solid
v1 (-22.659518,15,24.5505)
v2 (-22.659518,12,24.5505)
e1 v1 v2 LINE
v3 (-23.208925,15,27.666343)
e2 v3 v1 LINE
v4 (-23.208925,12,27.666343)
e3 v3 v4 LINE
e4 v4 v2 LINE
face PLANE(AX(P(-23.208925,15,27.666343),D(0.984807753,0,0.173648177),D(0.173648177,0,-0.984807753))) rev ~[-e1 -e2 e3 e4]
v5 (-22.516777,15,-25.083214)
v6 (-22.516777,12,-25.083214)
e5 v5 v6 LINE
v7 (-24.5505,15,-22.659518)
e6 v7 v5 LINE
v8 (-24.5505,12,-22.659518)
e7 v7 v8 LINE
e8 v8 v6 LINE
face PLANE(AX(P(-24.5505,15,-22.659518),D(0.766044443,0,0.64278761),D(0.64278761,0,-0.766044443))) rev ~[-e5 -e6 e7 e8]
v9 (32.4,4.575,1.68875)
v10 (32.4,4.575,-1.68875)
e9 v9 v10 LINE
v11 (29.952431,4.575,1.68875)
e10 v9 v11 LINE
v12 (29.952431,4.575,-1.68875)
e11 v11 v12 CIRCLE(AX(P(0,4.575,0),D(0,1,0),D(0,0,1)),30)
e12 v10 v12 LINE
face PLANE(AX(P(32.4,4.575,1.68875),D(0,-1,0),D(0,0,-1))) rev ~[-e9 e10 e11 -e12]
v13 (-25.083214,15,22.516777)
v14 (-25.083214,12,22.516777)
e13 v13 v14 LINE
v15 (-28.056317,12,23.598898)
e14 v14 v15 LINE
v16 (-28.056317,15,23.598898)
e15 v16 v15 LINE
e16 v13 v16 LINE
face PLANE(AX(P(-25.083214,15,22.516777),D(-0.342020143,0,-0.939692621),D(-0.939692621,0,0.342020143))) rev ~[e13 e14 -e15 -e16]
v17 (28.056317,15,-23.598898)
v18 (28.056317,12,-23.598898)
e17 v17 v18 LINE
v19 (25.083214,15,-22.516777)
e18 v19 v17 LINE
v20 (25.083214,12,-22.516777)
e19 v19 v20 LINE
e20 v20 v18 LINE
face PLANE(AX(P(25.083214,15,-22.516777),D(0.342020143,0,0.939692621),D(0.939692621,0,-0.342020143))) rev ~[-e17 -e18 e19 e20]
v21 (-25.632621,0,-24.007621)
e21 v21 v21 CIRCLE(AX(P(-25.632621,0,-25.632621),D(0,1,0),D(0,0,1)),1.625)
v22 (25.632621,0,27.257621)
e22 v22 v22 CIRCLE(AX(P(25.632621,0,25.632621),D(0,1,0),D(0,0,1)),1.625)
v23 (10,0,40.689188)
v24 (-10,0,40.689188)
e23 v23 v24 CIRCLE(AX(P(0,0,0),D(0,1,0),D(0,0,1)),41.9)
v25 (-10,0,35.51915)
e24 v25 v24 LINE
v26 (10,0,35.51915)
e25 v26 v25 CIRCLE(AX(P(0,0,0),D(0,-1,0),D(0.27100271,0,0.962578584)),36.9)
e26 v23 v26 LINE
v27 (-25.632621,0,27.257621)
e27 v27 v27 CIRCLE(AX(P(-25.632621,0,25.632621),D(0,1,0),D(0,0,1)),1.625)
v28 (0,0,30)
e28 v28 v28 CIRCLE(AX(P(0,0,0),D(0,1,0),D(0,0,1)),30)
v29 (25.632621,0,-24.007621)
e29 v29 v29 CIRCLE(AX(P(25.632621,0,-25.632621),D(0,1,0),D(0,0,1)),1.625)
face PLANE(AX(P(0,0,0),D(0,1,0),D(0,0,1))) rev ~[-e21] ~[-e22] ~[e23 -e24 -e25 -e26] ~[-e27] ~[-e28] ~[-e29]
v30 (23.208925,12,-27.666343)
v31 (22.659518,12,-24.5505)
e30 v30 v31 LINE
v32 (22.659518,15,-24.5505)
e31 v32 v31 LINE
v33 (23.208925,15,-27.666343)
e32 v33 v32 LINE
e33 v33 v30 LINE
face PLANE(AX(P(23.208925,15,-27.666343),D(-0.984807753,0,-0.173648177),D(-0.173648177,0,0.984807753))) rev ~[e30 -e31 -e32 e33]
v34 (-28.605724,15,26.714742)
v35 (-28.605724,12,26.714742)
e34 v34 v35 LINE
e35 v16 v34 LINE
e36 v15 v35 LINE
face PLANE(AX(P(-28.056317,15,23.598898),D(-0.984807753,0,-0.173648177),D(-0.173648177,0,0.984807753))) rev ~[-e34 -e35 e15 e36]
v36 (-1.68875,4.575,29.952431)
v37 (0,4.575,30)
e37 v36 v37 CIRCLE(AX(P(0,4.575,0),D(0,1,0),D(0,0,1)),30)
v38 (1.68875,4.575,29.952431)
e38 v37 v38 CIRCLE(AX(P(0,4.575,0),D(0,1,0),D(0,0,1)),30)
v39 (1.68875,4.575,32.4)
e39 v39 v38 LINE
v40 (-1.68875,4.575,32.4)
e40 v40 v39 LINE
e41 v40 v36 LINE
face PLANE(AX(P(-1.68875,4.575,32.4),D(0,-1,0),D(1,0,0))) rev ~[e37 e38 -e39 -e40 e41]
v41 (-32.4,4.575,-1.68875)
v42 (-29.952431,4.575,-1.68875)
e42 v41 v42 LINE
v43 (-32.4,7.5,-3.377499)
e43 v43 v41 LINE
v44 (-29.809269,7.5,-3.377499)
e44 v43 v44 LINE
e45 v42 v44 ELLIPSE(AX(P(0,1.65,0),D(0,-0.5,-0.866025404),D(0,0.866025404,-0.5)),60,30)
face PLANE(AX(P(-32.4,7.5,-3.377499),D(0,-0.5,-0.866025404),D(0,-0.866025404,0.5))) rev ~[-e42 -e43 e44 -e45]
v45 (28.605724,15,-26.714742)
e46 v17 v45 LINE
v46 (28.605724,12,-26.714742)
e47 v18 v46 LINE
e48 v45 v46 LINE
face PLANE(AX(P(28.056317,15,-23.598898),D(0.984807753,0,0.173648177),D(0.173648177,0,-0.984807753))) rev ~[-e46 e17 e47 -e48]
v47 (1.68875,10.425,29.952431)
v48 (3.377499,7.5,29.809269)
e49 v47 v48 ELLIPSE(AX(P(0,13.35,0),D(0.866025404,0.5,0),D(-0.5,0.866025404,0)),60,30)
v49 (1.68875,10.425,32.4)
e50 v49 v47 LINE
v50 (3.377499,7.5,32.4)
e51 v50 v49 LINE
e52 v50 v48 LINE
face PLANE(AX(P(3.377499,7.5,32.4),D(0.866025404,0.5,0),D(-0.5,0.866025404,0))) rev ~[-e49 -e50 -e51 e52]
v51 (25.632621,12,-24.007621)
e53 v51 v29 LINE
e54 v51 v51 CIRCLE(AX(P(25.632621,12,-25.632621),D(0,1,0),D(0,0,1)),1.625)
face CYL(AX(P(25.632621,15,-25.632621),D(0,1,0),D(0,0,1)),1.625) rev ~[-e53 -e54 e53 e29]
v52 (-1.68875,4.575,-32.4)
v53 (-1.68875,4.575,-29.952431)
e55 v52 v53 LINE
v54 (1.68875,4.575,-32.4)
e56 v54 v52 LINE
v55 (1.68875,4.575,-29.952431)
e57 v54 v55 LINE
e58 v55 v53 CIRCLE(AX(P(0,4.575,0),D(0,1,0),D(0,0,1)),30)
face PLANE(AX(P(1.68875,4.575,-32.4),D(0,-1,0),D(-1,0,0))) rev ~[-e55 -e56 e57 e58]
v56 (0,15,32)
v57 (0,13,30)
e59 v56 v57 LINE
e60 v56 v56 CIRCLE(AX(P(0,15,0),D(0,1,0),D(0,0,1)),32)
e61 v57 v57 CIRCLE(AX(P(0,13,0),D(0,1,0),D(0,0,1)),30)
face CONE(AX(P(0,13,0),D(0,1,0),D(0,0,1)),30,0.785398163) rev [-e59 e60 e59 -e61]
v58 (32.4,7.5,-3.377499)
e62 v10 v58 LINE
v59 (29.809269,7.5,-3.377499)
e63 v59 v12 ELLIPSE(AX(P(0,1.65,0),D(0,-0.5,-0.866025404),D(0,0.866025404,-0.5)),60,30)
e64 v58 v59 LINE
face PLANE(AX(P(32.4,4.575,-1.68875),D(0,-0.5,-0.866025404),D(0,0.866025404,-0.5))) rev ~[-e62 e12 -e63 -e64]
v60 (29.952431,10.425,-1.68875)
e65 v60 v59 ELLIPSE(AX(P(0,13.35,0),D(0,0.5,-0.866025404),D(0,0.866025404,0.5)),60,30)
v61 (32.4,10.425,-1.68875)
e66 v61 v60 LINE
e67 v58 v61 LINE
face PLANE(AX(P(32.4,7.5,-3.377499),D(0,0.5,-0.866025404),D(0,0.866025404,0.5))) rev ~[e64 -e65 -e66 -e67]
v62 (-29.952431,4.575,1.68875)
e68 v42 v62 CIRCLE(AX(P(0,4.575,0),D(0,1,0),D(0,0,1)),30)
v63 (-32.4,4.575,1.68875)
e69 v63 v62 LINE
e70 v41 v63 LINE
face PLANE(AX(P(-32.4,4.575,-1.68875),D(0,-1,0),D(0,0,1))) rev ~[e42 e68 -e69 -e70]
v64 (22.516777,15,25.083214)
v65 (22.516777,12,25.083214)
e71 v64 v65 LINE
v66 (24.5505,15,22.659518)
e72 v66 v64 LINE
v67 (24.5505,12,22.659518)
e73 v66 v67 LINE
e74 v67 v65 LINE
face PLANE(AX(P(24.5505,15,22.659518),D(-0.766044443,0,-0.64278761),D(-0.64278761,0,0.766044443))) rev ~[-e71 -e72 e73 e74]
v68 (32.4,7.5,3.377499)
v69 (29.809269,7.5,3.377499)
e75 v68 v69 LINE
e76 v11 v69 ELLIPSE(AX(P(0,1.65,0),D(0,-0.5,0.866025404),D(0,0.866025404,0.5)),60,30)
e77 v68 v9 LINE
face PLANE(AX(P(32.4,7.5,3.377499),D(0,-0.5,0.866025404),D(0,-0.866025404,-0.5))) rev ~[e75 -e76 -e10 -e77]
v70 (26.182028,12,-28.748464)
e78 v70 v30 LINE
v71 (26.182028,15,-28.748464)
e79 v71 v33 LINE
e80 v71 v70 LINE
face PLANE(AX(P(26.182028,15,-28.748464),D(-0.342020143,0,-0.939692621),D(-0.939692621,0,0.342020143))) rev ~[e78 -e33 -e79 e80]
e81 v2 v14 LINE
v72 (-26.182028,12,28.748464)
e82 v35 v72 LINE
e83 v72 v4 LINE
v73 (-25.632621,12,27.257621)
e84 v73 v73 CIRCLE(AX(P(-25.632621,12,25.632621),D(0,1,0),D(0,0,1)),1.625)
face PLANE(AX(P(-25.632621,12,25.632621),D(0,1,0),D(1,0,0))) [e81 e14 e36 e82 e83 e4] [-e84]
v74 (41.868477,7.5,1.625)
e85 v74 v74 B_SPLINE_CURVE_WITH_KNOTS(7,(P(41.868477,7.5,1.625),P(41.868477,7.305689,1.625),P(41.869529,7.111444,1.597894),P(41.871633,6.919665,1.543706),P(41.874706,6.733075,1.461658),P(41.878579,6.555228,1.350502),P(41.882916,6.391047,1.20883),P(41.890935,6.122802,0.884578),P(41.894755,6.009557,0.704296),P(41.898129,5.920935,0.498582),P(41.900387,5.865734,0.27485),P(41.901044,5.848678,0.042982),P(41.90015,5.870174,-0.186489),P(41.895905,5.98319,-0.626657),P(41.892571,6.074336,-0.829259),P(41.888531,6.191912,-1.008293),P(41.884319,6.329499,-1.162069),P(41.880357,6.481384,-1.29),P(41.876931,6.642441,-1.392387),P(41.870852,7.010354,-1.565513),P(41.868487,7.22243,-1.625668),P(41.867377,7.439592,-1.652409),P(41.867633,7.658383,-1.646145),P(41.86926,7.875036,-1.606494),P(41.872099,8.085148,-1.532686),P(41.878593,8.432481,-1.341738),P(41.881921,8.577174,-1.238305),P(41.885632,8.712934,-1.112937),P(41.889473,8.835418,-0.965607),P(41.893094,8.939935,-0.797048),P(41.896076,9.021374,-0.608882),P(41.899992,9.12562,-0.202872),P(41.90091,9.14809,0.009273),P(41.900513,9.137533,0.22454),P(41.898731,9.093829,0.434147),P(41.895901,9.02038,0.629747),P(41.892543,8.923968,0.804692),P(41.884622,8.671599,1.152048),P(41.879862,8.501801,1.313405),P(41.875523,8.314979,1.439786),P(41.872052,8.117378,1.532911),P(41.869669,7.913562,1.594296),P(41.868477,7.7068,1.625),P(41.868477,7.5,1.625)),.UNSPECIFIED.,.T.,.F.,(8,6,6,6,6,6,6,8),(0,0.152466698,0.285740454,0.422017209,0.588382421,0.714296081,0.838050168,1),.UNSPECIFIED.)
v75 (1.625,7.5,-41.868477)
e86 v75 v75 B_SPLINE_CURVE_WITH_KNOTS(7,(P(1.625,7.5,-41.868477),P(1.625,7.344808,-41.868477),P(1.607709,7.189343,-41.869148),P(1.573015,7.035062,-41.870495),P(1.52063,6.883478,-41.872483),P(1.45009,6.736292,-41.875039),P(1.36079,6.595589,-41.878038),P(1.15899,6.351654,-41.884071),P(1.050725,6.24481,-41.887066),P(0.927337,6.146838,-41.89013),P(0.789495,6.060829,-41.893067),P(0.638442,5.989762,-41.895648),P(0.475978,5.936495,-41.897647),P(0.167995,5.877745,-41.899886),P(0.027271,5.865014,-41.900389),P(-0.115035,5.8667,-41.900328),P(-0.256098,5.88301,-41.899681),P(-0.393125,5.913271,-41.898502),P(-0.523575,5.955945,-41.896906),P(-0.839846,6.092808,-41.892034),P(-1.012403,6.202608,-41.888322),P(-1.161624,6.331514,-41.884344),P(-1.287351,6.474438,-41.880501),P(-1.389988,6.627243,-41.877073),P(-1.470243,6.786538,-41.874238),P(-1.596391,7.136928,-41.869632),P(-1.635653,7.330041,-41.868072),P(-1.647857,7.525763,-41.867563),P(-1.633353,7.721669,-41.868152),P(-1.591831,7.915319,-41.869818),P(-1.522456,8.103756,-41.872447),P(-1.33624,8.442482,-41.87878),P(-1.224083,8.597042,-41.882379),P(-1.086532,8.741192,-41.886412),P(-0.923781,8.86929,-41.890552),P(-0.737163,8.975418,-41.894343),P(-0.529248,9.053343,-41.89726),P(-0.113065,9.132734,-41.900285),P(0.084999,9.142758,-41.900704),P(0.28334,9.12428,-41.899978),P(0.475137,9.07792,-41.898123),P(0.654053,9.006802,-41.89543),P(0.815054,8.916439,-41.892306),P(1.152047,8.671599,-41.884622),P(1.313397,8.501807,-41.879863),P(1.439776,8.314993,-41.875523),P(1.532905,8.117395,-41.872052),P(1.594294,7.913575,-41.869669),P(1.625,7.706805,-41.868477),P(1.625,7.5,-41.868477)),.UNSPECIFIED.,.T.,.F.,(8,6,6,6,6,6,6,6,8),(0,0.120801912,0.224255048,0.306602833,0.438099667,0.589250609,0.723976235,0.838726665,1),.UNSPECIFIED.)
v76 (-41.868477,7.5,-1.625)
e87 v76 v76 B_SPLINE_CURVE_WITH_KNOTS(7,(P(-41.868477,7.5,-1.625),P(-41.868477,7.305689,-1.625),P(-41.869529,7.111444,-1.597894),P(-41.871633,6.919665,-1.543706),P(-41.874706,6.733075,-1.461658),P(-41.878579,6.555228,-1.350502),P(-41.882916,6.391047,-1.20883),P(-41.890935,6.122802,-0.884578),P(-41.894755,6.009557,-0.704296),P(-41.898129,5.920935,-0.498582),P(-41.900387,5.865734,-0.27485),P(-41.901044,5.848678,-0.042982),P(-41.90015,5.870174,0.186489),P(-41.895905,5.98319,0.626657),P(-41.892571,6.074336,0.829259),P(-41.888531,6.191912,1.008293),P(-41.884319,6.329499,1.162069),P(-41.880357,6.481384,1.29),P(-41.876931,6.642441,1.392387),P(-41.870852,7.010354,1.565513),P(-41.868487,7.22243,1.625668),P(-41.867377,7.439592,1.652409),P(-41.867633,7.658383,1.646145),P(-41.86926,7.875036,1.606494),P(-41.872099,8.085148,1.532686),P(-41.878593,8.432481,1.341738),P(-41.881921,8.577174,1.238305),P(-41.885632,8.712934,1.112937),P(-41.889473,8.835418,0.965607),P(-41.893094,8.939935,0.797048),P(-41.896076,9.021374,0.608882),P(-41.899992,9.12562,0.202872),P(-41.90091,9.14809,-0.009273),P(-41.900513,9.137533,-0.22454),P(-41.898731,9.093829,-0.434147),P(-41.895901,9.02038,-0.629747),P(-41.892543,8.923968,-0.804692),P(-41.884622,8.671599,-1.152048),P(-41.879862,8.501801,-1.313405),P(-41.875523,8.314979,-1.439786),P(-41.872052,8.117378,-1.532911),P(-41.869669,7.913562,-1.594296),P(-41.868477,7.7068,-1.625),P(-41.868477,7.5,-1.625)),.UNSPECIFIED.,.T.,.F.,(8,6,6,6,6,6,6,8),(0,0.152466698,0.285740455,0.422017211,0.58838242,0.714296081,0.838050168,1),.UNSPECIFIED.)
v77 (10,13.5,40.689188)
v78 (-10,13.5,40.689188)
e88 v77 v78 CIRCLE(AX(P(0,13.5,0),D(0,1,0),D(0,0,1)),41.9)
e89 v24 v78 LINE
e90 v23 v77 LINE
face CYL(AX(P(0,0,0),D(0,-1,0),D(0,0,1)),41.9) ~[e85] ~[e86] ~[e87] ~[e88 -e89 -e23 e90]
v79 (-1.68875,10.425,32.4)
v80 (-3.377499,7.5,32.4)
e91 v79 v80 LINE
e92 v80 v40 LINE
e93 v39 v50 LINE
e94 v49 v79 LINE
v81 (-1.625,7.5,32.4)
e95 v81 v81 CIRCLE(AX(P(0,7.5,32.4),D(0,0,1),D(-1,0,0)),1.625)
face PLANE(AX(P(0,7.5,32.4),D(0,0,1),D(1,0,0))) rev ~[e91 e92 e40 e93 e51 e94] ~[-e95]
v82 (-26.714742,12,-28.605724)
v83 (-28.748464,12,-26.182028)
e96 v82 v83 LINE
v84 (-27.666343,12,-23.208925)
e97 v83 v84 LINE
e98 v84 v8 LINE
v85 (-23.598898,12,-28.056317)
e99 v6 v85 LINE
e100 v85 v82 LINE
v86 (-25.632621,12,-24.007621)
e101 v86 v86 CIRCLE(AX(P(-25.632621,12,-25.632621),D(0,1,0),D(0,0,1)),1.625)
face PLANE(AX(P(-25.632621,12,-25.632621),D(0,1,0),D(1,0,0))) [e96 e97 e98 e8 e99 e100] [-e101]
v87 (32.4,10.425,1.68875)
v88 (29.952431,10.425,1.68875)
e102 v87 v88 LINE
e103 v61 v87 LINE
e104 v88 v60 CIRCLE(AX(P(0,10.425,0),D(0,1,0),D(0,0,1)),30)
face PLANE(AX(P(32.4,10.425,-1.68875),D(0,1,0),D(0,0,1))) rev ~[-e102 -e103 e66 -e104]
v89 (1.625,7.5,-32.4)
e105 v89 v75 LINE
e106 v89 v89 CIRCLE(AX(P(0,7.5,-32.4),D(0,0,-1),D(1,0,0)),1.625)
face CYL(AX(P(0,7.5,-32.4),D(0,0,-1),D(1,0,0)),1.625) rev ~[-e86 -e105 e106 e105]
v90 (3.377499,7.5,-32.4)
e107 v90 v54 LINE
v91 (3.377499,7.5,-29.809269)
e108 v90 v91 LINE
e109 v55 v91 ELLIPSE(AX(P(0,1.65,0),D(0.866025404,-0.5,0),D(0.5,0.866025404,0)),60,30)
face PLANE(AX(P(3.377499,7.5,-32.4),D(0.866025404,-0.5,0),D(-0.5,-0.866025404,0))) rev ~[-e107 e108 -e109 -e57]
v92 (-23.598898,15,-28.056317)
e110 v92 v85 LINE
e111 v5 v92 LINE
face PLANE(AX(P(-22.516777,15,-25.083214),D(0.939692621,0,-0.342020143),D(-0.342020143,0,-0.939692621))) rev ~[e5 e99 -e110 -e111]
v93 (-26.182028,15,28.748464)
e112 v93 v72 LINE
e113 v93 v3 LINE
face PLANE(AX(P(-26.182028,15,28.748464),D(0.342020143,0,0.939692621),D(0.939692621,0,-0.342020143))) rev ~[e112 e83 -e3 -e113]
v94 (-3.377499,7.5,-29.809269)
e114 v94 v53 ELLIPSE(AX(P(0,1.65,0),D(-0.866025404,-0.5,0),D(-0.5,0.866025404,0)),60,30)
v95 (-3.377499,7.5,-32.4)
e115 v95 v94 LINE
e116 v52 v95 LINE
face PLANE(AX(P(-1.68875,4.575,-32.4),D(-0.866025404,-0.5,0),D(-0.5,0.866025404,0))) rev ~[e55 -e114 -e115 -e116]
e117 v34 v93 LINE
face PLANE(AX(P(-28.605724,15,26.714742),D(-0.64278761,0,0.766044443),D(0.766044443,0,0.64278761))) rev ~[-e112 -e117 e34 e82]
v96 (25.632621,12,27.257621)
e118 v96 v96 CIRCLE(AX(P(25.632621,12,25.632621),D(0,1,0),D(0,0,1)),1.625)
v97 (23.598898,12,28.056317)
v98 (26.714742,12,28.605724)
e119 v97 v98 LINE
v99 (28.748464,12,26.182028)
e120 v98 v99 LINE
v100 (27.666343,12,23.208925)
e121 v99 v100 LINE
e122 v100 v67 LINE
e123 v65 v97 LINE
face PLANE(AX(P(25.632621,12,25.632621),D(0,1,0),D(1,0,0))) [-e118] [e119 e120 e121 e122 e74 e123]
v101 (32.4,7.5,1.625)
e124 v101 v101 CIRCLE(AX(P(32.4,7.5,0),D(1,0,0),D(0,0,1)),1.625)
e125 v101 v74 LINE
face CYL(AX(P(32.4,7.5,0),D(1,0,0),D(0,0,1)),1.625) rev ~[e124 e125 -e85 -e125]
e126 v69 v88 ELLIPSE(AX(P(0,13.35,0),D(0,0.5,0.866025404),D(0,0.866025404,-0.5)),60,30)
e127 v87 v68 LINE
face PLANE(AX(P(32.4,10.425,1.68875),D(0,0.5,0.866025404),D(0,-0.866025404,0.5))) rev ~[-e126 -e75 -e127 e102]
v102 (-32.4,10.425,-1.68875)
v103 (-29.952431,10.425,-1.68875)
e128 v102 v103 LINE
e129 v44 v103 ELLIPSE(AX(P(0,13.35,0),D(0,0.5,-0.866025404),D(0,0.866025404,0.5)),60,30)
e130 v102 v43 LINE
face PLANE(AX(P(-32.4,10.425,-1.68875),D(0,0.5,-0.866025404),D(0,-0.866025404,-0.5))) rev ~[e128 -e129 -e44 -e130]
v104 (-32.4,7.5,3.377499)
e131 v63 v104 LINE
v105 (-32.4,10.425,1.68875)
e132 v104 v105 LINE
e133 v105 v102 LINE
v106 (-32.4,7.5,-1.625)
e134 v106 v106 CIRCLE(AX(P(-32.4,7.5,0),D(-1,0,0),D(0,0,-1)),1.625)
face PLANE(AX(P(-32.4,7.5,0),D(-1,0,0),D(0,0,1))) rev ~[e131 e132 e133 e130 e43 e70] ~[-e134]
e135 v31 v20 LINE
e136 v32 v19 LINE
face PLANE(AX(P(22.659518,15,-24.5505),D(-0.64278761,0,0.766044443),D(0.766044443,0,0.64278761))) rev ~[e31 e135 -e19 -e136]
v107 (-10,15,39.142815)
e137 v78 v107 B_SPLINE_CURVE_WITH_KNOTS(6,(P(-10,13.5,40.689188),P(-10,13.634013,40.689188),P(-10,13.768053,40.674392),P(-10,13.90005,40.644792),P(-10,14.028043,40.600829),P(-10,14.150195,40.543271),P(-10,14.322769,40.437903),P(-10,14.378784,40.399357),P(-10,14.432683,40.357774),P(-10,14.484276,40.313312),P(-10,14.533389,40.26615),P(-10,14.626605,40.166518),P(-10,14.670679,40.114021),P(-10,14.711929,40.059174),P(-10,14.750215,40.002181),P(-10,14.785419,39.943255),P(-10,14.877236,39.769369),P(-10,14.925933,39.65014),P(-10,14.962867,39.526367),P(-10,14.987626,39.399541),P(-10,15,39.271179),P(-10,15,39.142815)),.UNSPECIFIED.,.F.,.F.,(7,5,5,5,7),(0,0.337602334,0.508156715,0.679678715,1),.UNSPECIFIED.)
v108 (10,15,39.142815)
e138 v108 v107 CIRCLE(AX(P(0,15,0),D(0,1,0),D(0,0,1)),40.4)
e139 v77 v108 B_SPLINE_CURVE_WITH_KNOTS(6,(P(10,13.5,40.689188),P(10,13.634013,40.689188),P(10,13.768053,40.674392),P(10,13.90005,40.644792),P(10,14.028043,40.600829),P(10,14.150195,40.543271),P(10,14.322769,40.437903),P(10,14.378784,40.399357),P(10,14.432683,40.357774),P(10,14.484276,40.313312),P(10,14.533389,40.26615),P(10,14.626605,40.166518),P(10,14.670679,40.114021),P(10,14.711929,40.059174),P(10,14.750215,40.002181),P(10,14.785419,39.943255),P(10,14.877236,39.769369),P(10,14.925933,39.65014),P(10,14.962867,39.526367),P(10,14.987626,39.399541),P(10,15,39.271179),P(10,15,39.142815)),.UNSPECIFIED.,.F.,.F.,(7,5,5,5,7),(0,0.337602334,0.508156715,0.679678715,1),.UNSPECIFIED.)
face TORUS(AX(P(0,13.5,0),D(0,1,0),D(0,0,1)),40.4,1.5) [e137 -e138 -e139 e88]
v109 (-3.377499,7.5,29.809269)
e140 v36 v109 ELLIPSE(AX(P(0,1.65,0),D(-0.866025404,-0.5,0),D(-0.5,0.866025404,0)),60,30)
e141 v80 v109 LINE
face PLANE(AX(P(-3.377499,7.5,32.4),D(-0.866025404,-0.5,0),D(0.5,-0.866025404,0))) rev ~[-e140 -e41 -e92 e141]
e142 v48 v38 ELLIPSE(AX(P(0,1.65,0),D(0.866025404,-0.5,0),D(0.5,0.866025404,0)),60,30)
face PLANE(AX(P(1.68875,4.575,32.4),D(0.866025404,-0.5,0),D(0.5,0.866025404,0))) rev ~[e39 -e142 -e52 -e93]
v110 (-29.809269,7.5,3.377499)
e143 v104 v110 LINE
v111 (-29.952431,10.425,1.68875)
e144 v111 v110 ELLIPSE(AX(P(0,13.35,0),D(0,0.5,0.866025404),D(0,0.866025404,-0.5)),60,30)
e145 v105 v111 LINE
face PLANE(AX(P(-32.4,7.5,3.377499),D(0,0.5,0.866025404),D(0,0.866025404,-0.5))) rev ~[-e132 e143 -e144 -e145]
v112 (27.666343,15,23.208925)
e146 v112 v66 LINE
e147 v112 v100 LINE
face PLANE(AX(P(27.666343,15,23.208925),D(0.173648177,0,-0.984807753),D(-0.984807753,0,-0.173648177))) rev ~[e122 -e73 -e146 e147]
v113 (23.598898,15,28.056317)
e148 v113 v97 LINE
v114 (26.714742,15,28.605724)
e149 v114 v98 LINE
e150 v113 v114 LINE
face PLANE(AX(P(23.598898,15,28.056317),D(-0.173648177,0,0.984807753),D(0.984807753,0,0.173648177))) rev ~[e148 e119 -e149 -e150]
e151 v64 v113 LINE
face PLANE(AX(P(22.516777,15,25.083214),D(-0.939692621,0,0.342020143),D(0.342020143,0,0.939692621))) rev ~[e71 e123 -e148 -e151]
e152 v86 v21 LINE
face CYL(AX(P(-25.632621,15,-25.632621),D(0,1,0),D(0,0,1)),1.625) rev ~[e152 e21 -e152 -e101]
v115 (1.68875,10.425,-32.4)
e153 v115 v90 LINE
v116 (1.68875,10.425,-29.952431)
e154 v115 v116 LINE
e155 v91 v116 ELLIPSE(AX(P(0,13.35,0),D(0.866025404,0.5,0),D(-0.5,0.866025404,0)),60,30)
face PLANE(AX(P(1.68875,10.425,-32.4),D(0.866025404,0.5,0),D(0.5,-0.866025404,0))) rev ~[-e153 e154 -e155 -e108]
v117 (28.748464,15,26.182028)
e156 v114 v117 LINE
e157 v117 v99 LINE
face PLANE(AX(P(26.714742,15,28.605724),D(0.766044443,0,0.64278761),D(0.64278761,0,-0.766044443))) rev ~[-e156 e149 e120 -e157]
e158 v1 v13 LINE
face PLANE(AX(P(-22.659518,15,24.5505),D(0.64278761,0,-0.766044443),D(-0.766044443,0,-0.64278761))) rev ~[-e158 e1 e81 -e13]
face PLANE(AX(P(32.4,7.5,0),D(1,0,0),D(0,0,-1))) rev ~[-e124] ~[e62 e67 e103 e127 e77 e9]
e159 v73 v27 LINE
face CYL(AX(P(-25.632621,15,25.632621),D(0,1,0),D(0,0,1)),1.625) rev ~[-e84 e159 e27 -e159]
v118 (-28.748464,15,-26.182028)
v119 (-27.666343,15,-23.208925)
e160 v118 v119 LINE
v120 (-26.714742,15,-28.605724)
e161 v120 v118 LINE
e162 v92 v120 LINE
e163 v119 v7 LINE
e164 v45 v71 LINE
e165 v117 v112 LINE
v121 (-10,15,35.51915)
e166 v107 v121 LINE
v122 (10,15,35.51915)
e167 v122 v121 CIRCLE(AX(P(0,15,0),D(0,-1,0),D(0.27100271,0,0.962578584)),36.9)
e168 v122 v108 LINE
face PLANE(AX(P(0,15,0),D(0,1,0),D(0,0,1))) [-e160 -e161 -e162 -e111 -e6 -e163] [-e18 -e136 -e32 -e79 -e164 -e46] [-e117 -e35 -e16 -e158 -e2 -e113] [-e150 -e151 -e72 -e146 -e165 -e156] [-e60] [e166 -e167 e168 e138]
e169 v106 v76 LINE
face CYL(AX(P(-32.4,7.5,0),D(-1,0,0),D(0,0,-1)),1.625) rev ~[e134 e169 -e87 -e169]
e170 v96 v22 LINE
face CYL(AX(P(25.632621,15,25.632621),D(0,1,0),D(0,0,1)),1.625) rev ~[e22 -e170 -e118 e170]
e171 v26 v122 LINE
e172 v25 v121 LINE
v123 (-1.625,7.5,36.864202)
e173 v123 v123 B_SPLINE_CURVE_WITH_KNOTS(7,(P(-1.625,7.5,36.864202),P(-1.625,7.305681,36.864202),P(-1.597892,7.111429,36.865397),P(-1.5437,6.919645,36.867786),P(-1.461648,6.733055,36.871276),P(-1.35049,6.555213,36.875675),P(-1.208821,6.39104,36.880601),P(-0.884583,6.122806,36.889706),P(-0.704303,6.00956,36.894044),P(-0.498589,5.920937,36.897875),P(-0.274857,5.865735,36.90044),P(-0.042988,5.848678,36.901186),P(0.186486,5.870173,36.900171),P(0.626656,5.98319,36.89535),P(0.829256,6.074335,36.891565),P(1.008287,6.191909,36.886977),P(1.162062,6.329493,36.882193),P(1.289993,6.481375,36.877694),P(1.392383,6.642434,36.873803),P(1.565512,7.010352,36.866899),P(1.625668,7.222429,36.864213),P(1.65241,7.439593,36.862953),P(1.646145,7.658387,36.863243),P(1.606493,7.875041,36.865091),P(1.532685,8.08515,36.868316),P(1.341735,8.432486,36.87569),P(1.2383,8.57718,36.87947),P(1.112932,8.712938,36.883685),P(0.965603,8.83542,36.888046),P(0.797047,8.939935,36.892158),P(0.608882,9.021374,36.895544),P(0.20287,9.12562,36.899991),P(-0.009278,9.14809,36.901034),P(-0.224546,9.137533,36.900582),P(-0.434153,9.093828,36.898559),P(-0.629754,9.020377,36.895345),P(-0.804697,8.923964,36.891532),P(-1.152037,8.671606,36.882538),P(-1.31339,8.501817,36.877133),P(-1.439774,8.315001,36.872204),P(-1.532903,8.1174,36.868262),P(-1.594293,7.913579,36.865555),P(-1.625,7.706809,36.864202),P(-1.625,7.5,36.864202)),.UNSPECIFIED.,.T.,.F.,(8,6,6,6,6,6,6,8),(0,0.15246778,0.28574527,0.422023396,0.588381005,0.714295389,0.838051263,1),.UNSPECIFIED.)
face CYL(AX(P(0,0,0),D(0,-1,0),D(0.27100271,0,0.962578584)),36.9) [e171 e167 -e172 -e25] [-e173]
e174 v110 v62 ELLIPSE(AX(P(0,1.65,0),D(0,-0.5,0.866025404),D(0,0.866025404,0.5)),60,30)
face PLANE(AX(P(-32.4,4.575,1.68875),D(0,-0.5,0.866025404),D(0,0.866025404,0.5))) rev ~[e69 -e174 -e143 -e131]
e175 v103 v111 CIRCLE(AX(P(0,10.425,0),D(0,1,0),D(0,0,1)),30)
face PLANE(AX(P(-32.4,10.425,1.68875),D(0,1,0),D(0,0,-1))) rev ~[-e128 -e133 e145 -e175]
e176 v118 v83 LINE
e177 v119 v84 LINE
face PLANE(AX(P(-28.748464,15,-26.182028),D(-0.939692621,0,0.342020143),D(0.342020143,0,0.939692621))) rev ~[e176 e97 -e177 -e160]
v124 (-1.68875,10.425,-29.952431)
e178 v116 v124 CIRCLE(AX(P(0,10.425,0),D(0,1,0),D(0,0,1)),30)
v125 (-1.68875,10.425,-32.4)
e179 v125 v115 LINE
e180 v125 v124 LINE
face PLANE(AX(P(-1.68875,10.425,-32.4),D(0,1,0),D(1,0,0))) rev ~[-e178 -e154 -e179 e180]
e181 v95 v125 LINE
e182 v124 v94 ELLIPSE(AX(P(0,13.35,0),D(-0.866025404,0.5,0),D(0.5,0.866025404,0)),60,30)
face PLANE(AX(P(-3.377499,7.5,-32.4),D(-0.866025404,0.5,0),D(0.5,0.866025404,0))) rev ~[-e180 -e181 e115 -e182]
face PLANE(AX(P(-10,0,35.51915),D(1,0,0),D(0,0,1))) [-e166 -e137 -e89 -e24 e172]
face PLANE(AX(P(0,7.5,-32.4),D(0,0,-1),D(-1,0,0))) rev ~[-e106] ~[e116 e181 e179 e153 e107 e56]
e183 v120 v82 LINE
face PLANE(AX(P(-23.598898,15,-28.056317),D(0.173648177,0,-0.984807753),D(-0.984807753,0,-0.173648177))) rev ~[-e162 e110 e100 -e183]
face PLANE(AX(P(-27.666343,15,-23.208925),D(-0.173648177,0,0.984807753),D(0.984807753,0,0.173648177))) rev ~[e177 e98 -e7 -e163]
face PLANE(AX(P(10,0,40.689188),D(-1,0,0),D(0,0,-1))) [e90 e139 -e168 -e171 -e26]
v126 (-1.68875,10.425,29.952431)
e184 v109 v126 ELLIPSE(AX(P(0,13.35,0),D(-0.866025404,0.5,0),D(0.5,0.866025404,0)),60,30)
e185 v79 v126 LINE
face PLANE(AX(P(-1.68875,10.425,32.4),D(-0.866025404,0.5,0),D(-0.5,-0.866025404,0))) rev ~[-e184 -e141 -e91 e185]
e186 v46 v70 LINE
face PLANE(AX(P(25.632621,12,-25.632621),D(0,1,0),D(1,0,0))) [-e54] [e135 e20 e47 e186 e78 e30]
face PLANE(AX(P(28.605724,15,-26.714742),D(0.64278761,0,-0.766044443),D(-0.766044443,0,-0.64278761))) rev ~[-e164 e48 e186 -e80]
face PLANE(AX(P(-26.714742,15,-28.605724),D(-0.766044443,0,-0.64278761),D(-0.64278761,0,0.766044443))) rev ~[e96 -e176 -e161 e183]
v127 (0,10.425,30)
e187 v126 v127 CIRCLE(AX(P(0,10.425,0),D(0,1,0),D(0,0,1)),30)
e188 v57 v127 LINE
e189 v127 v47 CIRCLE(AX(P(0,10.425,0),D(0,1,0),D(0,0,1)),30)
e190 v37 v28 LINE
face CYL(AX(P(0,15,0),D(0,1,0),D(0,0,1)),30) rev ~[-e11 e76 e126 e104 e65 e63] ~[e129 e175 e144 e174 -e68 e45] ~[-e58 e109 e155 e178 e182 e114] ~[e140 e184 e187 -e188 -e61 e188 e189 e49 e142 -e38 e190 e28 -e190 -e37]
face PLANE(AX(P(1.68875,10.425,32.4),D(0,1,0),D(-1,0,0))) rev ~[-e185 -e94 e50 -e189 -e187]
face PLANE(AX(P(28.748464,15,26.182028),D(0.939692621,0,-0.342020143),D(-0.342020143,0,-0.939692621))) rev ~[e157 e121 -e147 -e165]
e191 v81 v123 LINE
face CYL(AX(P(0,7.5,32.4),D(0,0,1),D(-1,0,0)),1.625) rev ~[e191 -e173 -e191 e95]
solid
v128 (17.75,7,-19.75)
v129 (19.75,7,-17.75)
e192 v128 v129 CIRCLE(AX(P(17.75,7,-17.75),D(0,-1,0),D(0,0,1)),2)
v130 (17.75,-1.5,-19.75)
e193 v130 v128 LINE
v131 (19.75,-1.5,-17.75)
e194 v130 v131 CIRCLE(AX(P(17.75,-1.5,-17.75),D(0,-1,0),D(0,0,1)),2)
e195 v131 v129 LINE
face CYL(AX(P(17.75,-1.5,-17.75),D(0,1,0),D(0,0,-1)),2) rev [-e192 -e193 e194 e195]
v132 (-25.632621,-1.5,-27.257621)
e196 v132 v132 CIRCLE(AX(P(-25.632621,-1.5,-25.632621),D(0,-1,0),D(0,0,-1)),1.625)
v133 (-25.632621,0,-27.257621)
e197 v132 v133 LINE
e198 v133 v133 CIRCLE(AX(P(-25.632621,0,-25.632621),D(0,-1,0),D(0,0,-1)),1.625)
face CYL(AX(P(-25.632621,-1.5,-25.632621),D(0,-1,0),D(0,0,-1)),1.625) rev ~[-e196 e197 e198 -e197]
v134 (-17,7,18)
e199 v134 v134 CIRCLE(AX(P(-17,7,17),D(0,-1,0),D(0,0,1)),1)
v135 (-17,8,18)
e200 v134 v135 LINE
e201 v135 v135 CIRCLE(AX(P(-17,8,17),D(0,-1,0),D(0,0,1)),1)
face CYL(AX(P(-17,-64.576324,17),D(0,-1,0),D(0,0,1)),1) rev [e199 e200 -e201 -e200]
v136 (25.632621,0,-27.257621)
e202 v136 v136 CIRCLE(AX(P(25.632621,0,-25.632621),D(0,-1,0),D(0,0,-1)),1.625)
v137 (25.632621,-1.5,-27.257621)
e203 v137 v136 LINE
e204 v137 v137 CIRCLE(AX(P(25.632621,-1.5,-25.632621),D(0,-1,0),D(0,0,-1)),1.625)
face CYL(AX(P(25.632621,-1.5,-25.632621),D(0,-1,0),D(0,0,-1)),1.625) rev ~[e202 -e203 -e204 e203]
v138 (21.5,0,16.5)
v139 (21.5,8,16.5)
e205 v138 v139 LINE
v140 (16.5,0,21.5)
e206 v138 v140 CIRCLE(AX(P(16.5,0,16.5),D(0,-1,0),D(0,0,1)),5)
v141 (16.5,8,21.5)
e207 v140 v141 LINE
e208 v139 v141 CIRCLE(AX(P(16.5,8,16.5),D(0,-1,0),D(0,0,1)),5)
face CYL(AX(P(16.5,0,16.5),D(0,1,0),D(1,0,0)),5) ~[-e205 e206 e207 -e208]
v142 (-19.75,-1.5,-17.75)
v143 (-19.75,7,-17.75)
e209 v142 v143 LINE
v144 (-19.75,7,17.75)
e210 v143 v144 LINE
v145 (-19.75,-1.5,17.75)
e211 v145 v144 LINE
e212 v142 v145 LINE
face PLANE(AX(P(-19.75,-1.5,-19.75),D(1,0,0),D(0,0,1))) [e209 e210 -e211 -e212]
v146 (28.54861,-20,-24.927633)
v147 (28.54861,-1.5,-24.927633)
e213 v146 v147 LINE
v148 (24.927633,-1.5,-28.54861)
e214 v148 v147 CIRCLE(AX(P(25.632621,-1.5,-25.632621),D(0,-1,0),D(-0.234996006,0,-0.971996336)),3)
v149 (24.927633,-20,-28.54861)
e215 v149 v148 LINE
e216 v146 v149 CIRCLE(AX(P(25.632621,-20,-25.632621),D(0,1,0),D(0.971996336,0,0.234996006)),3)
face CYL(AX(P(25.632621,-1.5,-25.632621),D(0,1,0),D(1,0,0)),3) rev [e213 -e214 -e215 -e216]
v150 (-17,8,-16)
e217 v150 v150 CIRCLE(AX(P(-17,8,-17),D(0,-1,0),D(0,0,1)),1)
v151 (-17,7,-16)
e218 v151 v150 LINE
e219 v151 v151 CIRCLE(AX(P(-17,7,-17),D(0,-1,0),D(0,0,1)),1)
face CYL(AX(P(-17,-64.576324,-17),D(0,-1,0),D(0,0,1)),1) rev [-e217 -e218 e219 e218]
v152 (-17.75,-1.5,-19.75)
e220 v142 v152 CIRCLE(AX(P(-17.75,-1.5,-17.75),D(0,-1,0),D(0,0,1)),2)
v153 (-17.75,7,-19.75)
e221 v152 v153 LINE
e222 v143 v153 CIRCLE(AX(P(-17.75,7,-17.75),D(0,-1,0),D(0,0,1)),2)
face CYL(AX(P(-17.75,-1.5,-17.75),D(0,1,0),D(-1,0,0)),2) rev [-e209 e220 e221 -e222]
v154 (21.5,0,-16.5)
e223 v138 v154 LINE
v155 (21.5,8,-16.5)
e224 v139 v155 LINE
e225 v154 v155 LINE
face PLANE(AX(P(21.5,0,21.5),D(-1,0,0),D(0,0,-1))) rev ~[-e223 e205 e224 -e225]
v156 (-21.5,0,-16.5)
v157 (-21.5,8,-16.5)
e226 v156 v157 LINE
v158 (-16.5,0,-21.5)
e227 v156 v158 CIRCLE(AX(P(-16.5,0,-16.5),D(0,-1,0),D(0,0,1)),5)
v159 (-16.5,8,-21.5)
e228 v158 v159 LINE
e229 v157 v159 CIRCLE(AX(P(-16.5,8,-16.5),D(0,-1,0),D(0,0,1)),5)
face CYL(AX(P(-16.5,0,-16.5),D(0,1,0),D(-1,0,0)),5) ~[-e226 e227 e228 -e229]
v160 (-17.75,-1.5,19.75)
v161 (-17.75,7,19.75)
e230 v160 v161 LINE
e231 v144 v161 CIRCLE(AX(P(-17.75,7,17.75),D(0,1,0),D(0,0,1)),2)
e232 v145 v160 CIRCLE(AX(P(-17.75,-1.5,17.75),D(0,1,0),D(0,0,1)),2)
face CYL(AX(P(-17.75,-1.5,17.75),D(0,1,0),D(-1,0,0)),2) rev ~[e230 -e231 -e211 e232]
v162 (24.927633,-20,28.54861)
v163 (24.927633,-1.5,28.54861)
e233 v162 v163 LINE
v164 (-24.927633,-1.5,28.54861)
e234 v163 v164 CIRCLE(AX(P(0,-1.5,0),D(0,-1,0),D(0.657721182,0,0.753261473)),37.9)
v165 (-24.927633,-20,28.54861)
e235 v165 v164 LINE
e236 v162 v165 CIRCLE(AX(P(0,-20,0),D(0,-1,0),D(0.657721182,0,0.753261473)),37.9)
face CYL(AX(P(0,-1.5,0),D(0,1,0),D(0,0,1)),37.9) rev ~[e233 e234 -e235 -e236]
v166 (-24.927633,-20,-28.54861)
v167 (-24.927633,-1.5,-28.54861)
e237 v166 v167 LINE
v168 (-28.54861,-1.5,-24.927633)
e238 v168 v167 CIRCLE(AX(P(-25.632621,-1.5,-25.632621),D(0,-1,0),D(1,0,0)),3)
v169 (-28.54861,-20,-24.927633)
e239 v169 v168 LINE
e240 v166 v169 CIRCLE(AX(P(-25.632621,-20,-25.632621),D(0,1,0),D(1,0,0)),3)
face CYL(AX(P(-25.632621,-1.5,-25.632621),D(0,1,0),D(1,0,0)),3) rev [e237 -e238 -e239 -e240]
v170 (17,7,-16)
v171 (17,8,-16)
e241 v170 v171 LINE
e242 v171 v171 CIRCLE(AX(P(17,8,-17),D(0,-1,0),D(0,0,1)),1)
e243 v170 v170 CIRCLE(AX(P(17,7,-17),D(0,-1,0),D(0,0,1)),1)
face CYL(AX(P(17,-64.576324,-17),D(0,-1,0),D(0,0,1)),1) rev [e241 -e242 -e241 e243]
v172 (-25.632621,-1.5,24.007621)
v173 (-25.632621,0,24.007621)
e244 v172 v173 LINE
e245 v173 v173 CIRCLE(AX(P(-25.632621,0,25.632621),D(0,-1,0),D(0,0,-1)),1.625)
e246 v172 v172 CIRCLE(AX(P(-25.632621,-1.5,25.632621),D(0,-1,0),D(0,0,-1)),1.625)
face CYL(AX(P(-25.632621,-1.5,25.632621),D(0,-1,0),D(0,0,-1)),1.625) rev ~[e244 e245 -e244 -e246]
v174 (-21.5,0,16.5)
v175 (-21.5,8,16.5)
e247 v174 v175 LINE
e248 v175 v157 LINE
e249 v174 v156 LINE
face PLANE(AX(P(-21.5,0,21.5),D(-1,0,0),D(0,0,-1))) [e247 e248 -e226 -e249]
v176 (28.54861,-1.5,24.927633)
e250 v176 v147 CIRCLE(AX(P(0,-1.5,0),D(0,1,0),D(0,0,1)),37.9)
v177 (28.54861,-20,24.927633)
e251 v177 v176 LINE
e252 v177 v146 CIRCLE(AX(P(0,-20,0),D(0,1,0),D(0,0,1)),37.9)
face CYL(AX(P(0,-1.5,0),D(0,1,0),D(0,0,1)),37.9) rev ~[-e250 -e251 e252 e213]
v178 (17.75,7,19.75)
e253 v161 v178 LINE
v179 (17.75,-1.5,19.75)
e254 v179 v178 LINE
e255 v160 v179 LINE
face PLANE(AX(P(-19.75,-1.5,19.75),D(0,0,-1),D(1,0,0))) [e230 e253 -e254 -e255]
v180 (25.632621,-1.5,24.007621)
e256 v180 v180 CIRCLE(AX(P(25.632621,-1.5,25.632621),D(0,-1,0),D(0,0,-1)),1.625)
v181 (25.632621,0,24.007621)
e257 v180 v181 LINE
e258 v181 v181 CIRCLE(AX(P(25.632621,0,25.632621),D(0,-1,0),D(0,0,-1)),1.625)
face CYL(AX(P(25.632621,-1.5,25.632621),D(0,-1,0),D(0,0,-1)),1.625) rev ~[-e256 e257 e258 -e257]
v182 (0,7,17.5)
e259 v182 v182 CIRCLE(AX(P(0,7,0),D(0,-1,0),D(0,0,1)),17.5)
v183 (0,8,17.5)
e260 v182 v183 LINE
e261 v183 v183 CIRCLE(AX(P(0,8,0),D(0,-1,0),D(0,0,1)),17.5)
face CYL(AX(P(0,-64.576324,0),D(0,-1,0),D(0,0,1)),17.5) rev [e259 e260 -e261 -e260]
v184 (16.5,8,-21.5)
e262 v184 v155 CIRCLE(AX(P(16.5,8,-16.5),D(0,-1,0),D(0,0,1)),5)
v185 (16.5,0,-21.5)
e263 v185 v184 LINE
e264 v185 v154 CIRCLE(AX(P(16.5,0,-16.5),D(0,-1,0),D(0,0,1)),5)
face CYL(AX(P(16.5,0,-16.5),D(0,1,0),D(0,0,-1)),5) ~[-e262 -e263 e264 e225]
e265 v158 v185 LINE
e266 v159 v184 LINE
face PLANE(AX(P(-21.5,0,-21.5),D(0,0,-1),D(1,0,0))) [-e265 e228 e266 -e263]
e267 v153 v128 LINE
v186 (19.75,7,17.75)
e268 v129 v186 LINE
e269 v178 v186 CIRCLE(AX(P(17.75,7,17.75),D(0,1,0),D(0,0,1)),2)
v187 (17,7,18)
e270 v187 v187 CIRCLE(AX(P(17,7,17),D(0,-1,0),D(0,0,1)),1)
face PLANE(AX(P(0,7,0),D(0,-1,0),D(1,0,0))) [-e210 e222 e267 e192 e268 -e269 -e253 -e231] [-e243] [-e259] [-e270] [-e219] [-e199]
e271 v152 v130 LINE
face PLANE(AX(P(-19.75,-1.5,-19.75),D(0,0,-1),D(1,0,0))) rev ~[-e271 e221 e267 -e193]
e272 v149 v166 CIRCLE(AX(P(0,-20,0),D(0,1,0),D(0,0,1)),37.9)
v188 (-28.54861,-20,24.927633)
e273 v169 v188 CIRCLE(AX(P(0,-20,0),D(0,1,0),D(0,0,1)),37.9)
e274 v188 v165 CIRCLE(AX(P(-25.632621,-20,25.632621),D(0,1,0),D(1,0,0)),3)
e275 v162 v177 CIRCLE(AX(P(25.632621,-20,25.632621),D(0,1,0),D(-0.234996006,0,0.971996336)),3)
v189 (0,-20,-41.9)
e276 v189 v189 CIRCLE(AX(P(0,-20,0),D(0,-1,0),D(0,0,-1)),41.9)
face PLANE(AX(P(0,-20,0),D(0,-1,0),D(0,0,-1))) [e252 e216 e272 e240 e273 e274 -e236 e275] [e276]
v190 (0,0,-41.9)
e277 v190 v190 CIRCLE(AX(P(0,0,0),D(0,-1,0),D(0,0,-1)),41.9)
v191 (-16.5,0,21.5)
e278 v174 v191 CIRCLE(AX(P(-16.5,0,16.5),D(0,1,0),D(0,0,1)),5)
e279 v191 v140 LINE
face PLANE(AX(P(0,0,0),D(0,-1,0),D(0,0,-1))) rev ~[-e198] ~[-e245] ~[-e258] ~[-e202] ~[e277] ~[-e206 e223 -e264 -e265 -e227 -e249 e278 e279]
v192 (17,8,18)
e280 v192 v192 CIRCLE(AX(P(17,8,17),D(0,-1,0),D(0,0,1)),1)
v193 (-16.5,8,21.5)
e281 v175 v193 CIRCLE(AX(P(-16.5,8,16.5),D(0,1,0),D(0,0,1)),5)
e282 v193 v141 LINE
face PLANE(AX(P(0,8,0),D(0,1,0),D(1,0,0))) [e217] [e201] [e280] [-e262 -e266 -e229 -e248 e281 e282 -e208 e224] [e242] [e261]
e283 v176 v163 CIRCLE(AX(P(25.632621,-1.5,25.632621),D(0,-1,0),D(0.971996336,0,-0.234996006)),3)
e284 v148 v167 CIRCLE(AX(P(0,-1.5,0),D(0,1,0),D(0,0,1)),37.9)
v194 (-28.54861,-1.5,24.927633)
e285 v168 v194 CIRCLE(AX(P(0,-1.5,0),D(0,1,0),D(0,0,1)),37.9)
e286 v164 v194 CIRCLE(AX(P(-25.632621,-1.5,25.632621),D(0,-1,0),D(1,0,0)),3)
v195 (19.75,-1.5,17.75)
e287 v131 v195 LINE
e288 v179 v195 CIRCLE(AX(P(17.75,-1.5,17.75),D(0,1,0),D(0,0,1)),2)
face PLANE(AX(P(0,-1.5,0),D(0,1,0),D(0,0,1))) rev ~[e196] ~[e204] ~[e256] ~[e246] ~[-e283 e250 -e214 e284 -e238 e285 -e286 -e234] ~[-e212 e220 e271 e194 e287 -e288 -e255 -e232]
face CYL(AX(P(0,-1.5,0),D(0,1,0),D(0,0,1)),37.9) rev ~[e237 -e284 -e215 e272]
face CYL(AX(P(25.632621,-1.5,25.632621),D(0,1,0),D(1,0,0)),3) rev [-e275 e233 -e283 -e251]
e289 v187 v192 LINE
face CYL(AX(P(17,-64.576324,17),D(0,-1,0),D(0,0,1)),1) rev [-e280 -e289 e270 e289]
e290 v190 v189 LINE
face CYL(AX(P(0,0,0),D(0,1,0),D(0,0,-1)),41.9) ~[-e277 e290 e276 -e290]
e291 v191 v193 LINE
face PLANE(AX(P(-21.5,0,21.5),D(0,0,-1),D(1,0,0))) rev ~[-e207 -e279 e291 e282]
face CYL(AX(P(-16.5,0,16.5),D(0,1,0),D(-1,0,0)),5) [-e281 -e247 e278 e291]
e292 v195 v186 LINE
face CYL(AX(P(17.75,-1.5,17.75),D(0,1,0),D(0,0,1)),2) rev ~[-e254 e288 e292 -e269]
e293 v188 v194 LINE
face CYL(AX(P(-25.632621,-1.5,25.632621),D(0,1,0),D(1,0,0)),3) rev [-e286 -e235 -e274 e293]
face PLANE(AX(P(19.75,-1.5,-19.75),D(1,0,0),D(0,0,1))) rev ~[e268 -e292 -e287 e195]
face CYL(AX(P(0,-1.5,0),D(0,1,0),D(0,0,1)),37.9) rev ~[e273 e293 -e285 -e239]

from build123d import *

# Parameters (mm, degrees)
SKETCH1_R               = 41.9
TOP_PART_DEPTH          = 15
SKETCH2_R               = 30
CUT_EXTRUDE1_DEPTH      = 20
FILLET1_R               = 1.5
CHAMFER1_SIZE           = 2
SKETCH8_7_R             = 1.625
CUT_EXTRUDE8_DEPTH      = 3
SKETCH8_R               = 1.625
CUT_EXTRUDE7_DEPTH      = 62.124626857
CUT_EXTRUDE11_DEPTH     = 62.124626881
SKETCH15_R              = 1.625
CUT_EXTRUDE14_DEPTH     = 10
CUT_EXTRUDE15_DEPTH     = 10
CIRPATTERN1_COUNT       = 4
CIRPATTERN2_COUNT       = 4
SKETCH3_R               = 41.9
BOTTOM_PART_DEPTH       = 20
SKETCH6_R               = 37.9
CUT_EXTRUDE3_DEPTH      = 63.076324134
SKETCH_1_W              = 43
SKETCH_1_H              = 43
EXTRUDE_1_DEPTH         = 8
FILLET_1_R              = 5
CUT_EXTRUDE4_DEPTH      = 63.076324134
CUT_EXTRUDE4_DEPTH_BACK = 63.076324134
SKETCH7_R               = 17.5
SKETCH7_R_2             = 1
SKETCH12_W              = 39.5
SKETCH12_H              = 39.5
CUT_EXTRUDE10_DEPTH     = 8.5
FILLET3_R               = 2
SKETCH17_R              = 1.625
CUT_EXTRUDE16_DEPTH     = 63.076324134
SKETCH18_R              = 3
CUT_EXTRUDE17_DEPTH     = 63.076324134


with BuildPart() as part:
    # Sketch1 → Top-Part (new body)
    with BuildSketch(Plane(origin=(0, 0, 0), x_dir=(1, 0, 0), z_dir=(0, 1, 0))):
        Circle(SKETCH1_R)
    extrude(amount=TOP_PART_DEPTH)

    # Sketch2 → Cut-Extrude1 (cut)
    with BuildSketch(Plane(origin=(0, 15, 0), x_dir=(1, 0, 0), z_dir=(0, 1, 0))):
        Circle(SKETCH2_R)
    extrude(amount=-CUT_EXTRUDE1_DEPTH, mode=Mode.SUBTRACT)

    # Fillet1
    fillet1_edges = [part.edges().sort_by_distance(p)[0] for p in [
        (-41.9, 15, 0),
    ]]
    fillet(fillet1_edges, radius=FILLET1_R)

    # Chamfer1
    chamfer1_edges = [part.edges().sort_by_distance(p)[0] for p in [
        (-30, 15, 0),
    ]]
    chamfer(chamfer1_edges, length=CHAMFER1_SIZE)

    # Sketch8<7> → Cut-Extrude8 (cut)
    # profile 1 of 4: a face of its own
    with BuildSketch(Plane(origin=(0, 15, 0), x_dir=(1, 0, 0), z_dir=(0, 1, 0))):
        Polygon((25.083213555, 22.516777398), (28.056316743, 23.598898462), (28.605724005, 26.714741882), (26.182028081, 28.748464238), (23.208924893, 27.666343174), (22.659517631, 24.550499754), align=None)
        with Locations((25.632620818, 25.632620818)):
            Circle(SKETCH8_7_R, mode=Mode.SUBTRACT)
    # profile 2 of 4: a face of its own
    with BuildSketch(Plane(origin=(0, 15, 0), x_dir=(1, 0, 0), z_dir=(0, 1, 0))):
        Polygon((-22.516777398, 25.083213555), (-23.598898462, 28.056316743), (-26.714741882, 28.605724005), (-28.748464238, 26.182028081), (-27.666343174, 23.208924893), (-24.550499754, 22.659517631), align=None)
        with Locations((-25.632620818, 25.632620818)):
            Circle(SKETCH8_7_R, mode=Mode.SUBTRACT)
    # profile 3 of 4: a face of its own
    with BuildSketch(Plane(origin=(0, 15, 0), x_dir=(1, 0, 0), z_dir=(0, 1, 0))):
        Polygon((22.516777398, -25.083213555), (23.598898462, -28.056316743), (26.714741882, -28.605724005), (28.748464238, -26.182028081), (27.666343174, -23.208924893), (24.550499754, -22.659517631), align=None)
        with Locations((25.632620818, -25.632620818)):
            Circle(SKETCH8_7_R, mode=Mode.SUBTRACT)
    # profile 4 of 4: a face of its own
    with BuildSketch(Plane(origin=(0, 15, 0), x_dir=(1, 0, 0), z_dir=(0, 1, 0))):
        Polygon((-25.083213555, -22.516777398), (-28.056316743, -23.598898462), (-28.605724005, -26.714741882), (-26.182028081, -28.748464238), (-23.208924893, -27.666343174), (-22.659517631, -24.550499754), align=None)
        with Locations((-25.632620818, -25.632620818)):
            Circle(SKETCH8_7_R, mode=Mode.SUBTRACT)
    extrude(amount=-CUT_EXTRUDE8_DEPTH, mode=Mode.SUBTRACT)

    # Sketch8 → Cut-Extrude7 (cut, through all)
    with BuildSketch(Plane(origin=(0, 15, 0), x_dir=(1, 0, 0), z_dir=(0, 1, 0))):
        with Locations((-25.632620818, 25.632620818)):
            Circle(SKETCH8_R)
        with Locations((25.632620818, 25.632620818)):
            Circle(SKETCH8_R)
        with Locations((25.632620818, -25.632620818)):
            Circle(SKETCH8_R)
        with Locations((-25.632620818, -25.632620818)):
            Circle(SKETCH8_R)
    extrude(amount=-CUT_EXTRUDE7_DEPTH, mode=Mode.SUBTRACT)

    # Sketch13 → Cut-Extrude11 (cut, through all)
    with BuildSketch(Plane.XZ):
        with BuildLine():
            Line((-10, 35.519149765), (-10, 40.689187753))
            ThreePointArc((-10, 40.689187753), (0, 41.9), (10, 40.689187753))
            Line((10, 40.689187753), (10, 35.519149765))
            ThreePointArc((10, 35.519149765), (0, 36.9), (-10, 35.519149765))
        make_face()
    extrude(amount=-CUT_EXTRUDE11_DEPTH, mode=Mode.SUBTRACT)

    # Sketch15 → Cut-Extrude14 (cut, symmetric)
    with BuildSketch(Plane.XY.offset(32.4)):
        with Locations((0, 7.5)):
            Circle(SKETCH15_R)
    cut_extrude14 = extrude(amount=CUT_EXTRUDE14_DEPTH, both=True, mode=Mode.SUBTRACT)

    # Sketch16 → Cut-Extrude15 (cut)
    with BuildSketch(Plane.XY.offset(32.4)):
        Polygon((3.377499075, 7.5), (1.688749537, 10.425), (-1.688749537, 10.425), (-3.377499075, 7.5), (-1.688749537, 4.575), (1.688749537, 4.575), align=None)
    cut_extrude15 = extrude(amount=-CUT_EXTRUDE15_DEPTH, mode=Mode.SUBTRACT)

    # CirPattern1: Cut-Extrude14 ×4 about axis
    cirpattern1_axis = Axis((0, 0, 0), (0, 1, 0))
    for i in range(1, CIRPATTERN1_COUNT):
        add(cut_extrude14.rotate(cirpattern1_axis, i * 360 / CIRPATTERN1_COUNT), mode=Mode.SUBTRACT)

    # CirPattern2: Cut-Extrude15 ×4 about axis
    cirpattern2_axis = Axis((0, 0, 0), (0, 1, 0))
    for i in range(1, CIRPATTERN2_COUNT):
        add(cut_extrude15.rotate(cirpattern2_axis, i * 360 / CIRPATTERN2_COUNT), mode=Mode.SUBTRACT)


with BuildPart() as body_2:
    # Sketch3 → Bottom-Part (new body)
    with BuildSketch(Plane.XZ):
        Circle(SKETCH3_R)
    extrude(amount=BOTTOM_PART_DEPTH)

    # Sketch6 → Cut-Extrude3 (cut, through all)
    with BuildSketch(Plane(origin=(0, -1.5, 0), x_dir=(1, 0, 0), z_dir=(0, 1, 0))):
        Circle(SKETCH6_R)
    extrude(amount=-CUT_EXTRUDE3_DEPTH, mode=Mode.SUBTRACT)

    # ｽｹｯﾁ1 → ﾎﾞｽ - 押し出し1 (add)
    with BuildSketch(Plane(origin=(0, 0, 0), x_dir=(1, 0, 0), z_dir=(0, 1, 0))):
        Rectangle(SKETCH_1_W, SKETCH_1_H)
    extrude(amount=EXTRUDE_1_DEPTH)

    # ﾌｨﾚｯﾄ1
    fillet_1_edges = [body_2.edges().sort_by_distance(p)[0] for p in [
        (21.5, 4, -21.5),
        (-21.5, 4, -21.5),
        (-21.5, 4, 21.5),
        (21.5, 4, 21.5),
    ]]
    fillet(fillet_1_edges, radius=FILLET_1_R)

    # Sketch7 → Cut-Extrude4 (cut, two sides: drawn at the far end of the back side and taken through both)
    with BuildSketch(Plane(origin=(0, -1.5, 0), x_dir=(1, 0, 0), z_dir=(0, 1, 0)).offset(-CUT_EXTRUDE4_DEPTH_BACK)):
        Circle(SKETCH7_R)
        with Locations((17, -17)):
            Circle(SKETCH7_R_2)
        with Locations((-17, -17)):
            Circle(SKETCH7_R_2)
        with Locations((-17, 17)):
            Circle(SKETCH7_R_2)
        with Locations((17, 17)):
            Circle(SKETCH7_R_2)
    extrude(amount=CUT_EXTRUDE4_DEPTH + CUT_EXTRUDE4_DEPTH_BACK, mode=Mode.SUBTRACT)

    # Sketch12 → Cut-Extrude10 (cut)
    with BuildSketch(Plane.XZ.offset(1.5)):
        Rectangle(SKETCH12_W, SKETCH12_H)
    extrude(amount=-CUT_EXTRUDE10_DEPTH, mode=Mode.SUBTRACT)

    # Fillet3
    fillet3_edges = [body_2.edges().sort_by_distance(p)[0] for p in [
        (-19.75, 2.75, -19.75),
        (-19.75, 2.75, 19.75),
        (19.75, 2.75, -19.75),
        (19.75, 2.75, 19.75),
    ]]
    fillet(fillet3_edges, radius=FILLET3_R)

    # Sketch17 → Cut-Extrude16 (cut, through all)
    with BuildSketch(Plane.XZ.offset(1.5)):
        with Locations((25.632620818, -25.632620818)):
            Circle(SKETCH17_R)
        with Locations((-25.632620818, -25.632620818)):
            Circle(SKETCH17_R)
        with Locations((25.632620818, 25.632620818)):
            Circle(SKETCH17_R)
        with Locations((-25.632620818, 25.632620818)):
            Circle(SKETCH17_R)
    extrude(amount=-CUT_EXTRUDE16_DEPTH, mode=Mode.SUBTRACT)

    # Sketch18 → Cut-Extrude17 (cut, through all)
    with BuildSketch(Plane.XZ.offset(1.5)):
        with Locations((-25.632620818, 25.632620818)):
            Circle(SKETCH18_R)
        with Locations((25.632620818, 25.632620818)):
            Circle(SKETCH18_R)
        with Locations((25.632620818, -25.632620818)):
            Circle(SKETCH18_R)
        with Locations((-25.632620818, -25.632620818)):
            Circle(SKETCH18_R)
    extrude(amount=CUT_EXTRUDE17_DEPTH, mode=Mode.SUBTRACT)


solid = Compound([part.part, body_2.part])
